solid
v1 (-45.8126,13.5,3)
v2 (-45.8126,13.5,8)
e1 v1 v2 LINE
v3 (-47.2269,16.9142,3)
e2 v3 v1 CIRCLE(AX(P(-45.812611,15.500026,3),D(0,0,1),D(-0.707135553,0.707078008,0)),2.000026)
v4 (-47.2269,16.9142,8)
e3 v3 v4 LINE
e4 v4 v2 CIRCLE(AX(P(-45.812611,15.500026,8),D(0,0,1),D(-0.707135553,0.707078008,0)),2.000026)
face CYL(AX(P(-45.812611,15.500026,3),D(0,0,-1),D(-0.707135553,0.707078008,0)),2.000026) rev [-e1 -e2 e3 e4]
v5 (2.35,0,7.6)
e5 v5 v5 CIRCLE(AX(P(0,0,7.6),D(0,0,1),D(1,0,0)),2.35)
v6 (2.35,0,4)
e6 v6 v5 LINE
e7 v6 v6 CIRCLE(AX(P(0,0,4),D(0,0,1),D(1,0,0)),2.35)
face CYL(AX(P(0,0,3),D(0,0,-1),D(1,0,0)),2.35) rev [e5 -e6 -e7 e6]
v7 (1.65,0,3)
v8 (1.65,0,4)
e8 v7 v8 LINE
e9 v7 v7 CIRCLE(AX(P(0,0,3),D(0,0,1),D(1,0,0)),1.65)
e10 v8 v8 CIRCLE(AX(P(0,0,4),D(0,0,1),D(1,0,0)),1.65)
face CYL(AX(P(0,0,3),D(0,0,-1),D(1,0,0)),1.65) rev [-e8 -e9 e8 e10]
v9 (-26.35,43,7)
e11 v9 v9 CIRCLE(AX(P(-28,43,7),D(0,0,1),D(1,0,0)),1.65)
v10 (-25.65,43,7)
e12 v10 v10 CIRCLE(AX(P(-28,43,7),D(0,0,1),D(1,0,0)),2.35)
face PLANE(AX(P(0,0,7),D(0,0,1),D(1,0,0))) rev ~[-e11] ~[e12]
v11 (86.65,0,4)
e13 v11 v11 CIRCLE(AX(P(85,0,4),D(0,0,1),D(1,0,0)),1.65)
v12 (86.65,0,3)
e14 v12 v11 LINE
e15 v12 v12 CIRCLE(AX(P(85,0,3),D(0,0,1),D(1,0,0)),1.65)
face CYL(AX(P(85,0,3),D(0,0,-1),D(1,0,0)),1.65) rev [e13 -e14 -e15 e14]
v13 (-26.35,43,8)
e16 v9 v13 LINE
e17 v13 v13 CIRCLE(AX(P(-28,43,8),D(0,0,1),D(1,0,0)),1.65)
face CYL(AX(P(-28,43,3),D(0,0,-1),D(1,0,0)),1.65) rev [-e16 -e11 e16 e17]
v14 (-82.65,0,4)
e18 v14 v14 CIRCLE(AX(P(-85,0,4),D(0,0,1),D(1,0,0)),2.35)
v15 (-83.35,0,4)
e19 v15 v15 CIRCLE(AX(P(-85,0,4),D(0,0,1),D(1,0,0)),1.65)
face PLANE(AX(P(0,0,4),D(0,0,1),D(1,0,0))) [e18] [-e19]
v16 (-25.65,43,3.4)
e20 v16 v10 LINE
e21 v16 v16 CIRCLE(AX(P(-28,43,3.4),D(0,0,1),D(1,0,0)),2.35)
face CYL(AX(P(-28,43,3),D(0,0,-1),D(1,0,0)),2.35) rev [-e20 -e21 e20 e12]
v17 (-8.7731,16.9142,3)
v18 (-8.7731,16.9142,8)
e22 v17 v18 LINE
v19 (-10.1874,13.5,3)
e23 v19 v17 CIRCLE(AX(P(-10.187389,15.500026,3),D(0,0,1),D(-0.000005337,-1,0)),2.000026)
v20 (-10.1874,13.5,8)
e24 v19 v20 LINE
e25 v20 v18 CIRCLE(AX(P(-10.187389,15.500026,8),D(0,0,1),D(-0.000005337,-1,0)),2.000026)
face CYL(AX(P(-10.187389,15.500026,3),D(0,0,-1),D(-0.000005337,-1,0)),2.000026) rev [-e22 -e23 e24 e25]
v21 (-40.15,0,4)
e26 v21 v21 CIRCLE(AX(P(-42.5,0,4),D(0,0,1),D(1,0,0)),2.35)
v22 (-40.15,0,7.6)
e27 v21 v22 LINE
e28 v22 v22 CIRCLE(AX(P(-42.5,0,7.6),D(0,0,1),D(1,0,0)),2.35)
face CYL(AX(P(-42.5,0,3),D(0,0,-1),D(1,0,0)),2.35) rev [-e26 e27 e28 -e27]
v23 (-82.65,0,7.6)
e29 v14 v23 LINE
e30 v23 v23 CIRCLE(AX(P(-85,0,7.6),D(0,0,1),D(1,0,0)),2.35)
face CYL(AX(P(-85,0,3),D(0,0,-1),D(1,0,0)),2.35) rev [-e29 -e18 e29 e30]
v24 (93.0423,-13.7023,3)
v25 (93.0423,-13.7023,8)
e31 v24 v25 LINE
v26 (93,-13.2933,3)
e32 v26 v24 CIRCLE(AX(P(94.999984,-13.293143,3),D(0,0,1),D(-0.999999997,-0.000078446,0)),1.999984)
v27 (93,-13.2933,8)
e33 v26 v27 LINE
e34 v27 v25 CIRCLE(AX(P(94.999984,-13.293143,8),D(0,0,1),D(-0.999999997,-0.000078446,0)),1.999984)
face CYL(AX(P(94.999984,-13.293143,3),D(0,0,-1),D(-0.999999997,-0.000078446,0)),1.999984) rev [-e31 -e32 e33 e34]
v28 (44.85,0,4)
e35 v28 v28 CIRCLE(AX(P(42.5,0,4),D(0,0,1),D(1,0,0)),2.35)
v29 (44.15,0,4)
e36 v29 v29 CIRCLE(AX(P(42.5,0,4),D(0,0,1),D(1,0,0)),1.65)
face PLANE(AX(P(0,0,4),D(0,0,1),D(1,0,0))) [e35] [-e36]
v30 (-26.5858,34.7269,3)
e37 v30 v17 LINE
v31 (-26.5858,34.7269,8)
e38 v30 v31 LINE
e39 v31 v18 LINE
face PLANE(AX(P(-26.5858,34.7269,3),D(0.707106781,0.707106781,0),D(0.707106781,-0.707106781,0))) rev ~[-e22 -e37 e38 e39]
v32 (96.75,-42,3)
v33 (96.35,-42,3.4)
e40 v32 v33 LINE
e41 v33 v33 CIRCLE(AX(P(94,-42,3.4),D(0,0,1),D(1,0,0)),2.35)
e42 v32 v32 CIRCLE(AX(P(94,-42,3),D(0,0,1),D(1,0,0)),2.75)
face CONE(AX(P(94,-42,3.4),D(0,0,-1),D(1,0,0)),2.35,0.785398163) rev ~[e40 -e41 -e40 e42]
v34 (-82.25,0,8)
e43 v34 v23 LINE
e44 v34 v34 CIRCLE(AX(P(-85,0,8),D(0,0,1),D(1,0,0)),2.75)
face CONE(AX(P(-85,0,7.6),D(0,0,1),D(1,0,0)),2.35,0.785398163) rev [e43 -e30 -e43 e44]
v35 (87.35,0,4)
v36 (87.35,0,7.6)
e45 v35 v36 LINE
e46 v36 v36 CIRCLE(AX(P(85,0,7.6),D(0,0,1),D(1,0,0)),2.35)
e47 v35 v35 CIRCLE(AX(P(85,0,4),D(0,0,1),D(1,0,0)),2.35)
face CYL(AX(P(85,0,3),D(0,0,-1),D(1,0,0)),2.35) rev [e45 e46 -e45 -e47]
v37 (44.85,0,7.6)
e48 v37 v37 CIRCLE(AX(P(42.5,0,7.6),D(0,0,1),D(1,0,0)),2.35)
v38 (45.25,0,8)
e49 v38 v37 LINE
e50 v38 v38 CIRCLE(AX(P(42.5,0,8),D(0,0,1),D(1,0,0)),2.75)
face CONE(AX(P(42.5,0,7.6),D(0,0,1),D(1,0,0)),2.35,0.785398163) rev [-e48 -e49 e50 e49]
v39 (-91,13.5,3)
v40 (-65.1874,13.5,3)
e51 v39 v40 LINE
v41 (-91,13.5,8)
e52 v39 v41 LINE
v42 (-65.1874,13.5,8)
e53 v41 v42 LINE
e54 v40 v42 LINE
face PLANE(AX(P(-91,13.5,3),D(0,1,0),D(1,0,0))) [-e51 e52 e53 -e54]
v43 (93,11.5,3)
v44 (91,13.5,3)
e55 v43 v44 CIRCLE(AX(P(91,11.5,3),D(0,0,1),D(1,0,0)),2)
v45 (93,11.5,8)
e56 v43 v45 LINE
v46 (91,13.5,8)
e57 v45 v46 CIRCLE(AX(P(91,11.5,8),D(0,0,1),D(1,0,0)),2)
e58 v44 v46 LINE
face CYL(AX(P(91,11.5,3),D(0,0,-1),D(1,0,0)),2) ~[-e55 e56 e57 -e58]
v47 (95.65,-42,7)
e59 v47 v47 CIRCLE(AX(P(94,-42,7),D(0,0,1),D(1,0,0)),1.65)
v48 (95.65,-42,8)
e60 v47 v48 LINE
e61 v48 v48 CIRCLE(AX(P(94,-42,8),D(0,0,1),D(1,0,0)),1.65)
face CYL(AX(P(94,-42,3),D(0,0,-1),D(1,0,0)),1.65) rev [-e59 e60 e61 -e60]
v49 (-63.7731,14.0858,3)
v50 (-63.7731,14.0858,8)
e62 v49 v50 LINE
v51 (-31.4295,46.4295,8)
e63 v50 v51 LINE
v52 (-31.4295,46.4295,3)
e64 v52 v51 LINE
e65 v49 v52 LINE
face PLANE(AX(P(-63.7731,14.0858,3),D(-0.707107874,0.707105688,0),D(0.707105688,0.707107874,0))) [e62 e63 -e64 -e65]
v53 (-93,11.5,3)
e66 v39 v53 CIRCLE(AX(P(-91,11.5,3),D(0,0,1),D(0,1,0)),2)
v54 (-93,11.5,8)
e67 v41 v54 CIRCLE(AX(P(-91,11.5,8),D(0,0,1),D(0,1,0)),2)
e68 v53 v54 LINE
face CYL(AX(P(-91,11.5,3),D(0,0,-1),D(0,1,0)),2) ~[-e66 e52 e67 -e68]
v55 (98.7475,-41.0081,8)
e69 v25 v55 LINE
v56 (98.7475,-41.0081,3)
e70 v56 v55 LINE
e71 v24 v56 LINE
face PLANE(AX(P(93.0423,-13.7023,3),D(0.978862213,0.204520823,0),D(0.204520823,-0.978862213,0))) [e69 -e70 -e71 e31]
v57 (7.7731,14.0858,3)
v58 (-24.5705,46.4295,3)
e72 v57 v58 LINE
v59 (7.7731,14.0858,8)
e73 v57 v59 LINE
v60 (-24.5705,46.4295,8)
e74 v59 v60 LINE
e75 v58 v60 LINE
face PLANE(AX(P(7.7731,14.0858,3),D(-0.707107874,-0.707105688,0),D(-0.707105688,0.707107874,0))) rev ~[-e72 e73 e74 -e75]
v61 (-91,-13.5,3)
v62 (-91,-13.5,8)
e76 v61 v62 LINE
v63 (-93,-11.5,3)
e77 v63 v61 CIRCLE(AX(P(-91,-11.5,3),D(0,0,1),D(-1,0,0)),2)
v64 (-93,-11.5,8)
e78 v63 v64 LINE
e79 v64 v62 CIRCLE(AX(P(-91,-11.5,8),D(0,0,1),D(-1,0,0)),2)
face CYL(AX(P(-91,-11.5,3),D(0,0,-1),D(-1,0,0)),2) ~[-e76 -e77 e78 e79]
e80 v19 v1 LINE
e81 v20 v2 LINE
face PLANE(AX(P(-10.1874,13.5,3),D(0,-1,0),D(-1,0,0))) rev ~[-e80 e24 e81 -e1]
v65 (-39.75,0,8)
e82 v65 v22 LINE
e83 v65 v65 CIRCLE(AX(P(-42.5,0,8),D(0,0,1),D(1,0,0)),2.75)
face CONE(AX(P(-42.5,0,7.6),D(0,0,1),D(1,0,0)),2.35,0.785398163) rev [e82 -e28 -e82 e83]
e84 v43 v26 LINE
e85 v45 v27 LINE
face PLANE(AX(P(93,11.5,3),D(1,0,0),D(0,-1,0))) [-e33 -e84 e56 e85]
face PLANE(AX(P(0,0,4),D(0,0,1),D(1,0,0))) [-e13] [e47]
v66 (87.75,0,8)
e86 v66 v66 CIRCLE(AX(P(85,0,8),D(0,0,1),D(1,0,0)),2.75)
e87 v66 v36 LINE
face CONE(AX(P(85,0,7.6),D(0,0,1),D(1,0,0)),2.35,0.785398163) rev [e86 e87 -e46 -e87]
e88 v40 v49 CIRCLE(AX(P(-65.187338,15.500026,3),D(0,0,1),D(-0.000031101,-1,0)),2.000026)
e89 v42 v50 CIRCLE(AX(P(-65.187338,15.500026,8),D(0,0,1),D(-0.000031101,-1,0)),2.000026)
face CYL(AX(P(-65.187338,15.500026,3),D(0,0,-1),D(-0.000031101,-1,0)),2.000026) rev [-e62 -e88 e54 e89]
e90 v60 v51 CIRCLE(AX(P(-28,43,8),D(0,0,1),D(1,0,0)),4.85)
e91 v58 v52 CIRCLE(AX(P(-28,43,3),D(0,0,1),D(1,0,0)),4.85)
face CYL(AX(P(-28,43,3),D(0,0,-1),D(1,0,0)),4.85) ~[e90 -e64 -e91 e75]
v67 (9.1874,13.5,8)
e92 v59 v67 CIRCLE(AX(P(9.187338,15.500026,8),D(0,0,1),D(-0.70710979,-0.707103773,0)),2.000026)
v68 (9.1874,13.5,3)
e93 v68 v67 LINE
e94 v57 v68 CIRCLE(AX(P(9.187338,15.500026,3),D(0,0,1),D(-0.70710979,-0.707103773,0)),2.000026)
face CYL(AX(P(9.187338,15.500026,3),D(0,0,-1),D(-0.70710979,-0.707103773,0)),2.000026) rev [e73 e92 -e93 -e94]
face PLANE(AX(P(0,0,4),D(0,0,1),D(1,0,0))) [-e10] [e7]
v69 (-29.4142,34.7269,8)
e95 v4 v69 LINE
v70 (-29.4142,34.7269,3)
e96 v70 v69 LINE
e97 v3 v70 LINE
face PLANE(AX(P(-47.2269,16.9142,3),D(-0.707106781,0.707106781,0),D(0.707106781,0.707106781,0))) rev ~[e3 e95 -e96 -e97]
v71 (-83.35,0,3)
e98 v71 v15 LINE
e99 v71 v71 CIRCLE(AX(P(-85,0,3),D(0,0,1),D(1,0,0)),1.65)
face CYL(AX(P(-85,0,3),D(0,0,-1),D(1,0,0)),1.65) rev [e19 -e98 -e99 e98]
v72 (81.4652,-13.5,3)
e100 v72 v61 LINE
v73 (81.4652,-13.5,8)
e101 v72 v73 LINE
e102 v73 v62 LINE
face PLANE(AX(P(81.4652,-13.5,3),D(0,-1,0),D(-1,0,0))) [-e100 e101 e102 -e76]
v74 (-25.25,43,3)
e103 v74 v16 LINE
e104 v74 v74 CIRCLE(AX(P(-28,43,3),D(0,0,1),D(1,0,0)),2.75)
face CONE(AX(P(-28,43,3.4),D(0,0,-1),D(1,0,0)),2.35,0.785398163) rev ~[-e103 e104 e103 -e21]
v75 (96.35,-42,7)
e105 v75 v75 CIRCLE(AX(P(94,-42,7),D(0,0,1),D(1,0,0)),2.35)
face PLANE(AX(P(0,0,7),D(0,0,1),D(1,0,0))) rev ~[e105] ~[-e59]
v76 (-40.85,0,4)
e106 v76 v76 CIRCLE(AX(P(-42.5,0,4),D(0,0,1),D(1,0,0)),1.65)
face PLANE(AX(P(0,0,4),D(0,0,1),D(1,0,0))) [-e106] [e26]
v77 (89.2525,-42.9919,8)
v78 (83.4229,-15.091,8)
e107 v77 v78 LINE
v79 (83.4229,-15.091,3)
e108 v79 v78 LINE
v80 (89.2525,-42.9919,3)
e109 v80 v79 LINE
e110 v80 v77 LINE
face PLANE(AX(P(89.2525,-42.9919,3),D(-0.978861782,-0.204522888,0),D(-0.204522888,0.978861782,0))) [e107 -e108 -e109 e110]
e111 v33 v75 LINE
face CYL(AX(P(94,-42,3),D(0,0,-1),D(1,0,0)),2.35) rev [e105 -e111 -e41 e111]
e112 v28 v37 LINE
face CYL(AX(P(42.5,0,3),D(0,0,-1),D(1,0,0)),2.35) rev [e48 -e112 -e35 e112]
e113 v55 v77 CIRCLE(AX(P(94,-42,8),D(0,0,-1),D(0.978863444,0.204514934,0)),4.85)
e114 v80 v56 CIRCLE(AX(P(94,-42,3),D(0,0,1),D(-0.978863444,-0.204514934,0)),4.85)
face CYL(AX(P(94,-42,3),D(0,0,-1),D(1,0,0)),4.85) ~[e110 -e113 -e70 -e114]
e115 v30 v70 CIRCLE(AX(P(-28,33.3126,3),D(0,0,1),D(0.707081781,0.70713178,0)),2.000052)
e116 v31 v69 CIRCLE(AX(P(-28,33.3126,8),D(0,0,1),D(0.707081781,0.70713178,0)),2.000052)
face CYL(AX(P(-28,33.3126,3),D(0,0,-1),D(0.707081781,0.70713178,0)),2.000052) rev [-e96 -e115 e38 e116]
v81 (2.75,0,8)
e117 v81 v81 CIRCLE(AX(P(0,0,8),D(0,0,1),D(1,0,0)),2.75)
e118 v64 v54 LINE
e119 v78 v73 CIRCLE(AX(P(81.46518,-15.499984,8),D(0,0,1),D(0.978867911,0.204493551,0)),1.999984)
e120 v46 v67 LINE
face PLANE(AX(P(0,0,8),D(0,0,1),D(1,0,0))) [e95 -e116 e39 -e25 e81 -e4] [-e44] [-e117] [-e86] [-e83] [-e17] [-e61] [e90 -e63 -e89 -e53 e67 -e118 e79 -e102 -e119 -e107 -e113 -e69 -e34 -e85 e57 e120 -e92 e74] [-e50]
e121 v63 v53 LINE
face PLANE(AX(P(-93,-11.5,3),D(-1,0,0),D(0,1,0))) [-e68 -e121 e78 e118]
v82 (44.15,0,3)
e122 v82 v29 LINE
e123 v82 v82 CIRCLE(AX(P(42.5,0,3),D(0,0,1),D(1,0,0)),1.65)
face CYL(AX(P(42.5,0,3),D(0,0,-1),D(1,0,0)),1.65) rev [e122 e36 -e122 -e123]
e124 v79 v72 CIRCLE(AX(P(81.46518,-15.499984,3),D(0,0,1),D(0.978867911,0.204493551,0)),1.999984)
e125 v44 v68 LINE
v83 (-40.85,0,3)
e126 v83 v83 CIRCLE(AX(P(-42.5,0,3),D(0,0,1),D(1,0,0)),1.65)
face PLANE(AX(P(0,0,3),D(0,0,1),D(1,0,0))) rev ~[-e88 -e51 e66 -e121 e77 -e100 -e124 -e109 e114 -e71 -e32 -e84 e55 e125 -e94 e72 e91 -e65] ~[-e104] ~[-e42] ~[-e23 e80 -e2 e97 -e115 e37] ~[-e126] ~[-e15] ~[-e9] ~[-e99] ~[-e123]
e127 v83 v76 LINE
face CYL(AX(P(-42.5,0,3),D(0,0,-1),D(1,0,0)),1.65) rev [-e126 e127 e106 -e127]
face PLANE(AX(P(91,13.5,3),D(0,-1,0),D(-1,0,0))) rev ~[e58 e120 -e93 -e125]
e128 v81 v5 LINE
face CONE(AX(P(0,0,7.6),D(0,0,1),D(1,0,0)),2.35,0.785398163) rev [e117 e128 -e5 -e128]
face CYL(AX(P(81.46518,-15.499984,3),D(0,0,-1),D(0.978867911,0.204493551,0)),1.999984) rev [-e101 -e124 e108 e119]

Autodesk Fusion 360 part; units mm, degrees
sketch "Sketch1" plane through (0, 0, 0) normal (0, 0, 1) x (1, 0, 0)
  line L0 (100, 125) -> (-100, 125)
  line L1 (-100, 125) -> (-100, -125)
  line L2 (-100, -125) -> (100, -125)
  line L3 (100, -125) -> (100, 125)
  line L4 (100, 125) -> (-100, -125) construction
  line L5 (-100, 125) -> (100, -125) construction
  line L6 (-100, 125) -> (100, 125)
  line L7 (100, 125) -> (100, 129)
  line L8 (100, 129) -> (-100, 129)
  line L9 (-100, 129) -> (-100, 125)
  line L10 (-100, -125) -> (100, -125)
  line L11 (100, -125) -> (100, -129)
  line L12 (100, -129) -> (-100, -129)
  line L13 (-100, -129) -> (-100, -125)
  line L14 (100, 125) -> (104, 125)
  line L15 (104, 125) -> (104, -125)
  line L16 (104, -125) -> (100, -125)
  line L17 (100, -125) -> (100, 125)
  line L18 (-100, 125) -> (-104, 125)
  line L19 (-104, 125) -> (-104, -125)
  line L20 (-104, -125) -> (-100, -125)
  line L21 (-100, -125) -> (-100, 125)
  line L22 (-80, -53.8) -> (-80, 2.2) construction
  circle A0 centre (-80, -53.8) radius 1.65 construction
  circle A1 centre (-80, 2.2) radius 1.65 construction
  line L23 (-61.0622, -1) -> (-98.9378, -1) construction
  line L24 (-98.9378, -1) -> (-98.9378, -50.6) construction
  line L25 (-98.9378, -50.6) -> (-61.0622, -50.6) construction
  line L26 (-61.0622, -50.6) -> (-61.0622, -1) construction
  line L27 (-61.0622, -1) -> (-98.9378, -50.6) construction
  line L28 (-98.9378, -1) -> (-61.0622, -50.6) construction
  line L29 (-30.5, 49.5) -> (98.5, 49.5) construction
  line L30 (98.5, 49.5) -> (98.5, -47.5) construction
  line L31 (98.5, -47.5) -> (-30.5, -47.5) construction
  line L32 (-30.5, -47.5) -> (-30.5, 49.5) construction
  circle A2 centre (-28, 43) radius 1.65
  circle A3 centre (94, -42) radius 1.65
  line L33 (-100, 125) -> (-85.5, 125)
  line L34 (-85.5, 125) -> (-85.5, 116)
  line L35 (-85.5, 116) -> (-100, 116)
  line L36 (-100, 116) -> (-100, 125)
  line L37 (100, 125) -> (85.5, 125)
  line L38 (85.5, 125) -> (85.5, 116)
  line L39 (85.5, 116) -> (100, 116)
  line L40 (100, 116) -> (100, 125)
  line L41 (-100, -125) -> (-85.5, -125)
  line L42 (-85.5, -125) -> (-85.5, -116)
  line L43 (-85.5, -116) -> (-100, -116)
  line L44 (-100, -116) -> (-100, -125)
  line L45 (100, -125) -> (85.5, -125)
  line L46 (85.5, -125) -> (85.5, -116)
  line L47 (85.5, -116) -> (100, -116)
  line L48 (100, -116) -> (100, -125)
  line L49 (-100, 100) -> (-104, 100)
  line L50 (100, 100) -> (104, 100)
  line L51 (-100, -100) -> (-104, -100)
  line L52 (100, -100) -> (104, -100)
  line L53 (-85.5, 125) -> (-85.5, 129)
  line L54 (85.5, 125) -> (85.5, 129)
  line L55 (-85.5, -125) -> (-85.5, -129)
  line L56 (85.5, -125) -> (85.5, -129)
  line L57 (-115, -140) -> (-75, -140) construction
  line L58 (-75, -140) -> (-75, -87) construction
  line L59 (-75, -87) -> (-115, -87) construction
  line L60 (-115, -87) -> (-115, -140) construction
  line L61 (-63.3606, -140) -> (-21.3606, -140) construction
  line L62 (-21.3606, -140) -> (-21.3606, -53.8) construction
  line L63 (-21.3606, -53.8) -> (-63.3606, -53.8) construction
  line L64 (-63.3606, -53.8) -> (-63.3606, -140) construction
  line L65 (-100, 0) -> (-118.2487, 0) construction
  circle A4 centre (0, 0) radius 152.5
  circle A5 centre (-85, -72) radius 1.65
  line L66 (-85, -72) -> (85, -72) construction
  line L67 (85, -72) -> (85, 72) construction
  line L68 (85, 72) -> (-85, 72) construction
  line L69 (-85, 72) -> (-85, -72) construction
  circle A6 centre (85, 72) radius 1.65
  circle A7 centre (85, -72) radius 1.65
  circle A8 centre (-85, 72) radius 1.65
  point P0 (-80, -25.8)
  dimension "d1" = 200
  dimension "d2" = 250
  dimension "d3" = 4
  dimension "d4" = 4
  dimension "d5" = 4
  dimension "d6" = 4
  dimension "d7" = 20
  dimension "d8" = 56
  dimension "d10" = 3.3
  dimension "d11" = 37.8755
  dimension "d12" = 49.6
  dimension "d13" = 2.5
  dimension "d14" = 6.5
  dimension "d15" = 3.3
  dimension "d16" = 5.5
  dimension "d17" = 4.5
  dimension "d18" = 129
  dimension "d19" = 97
  dimension "d20" = 1.5
  dimension "d21" = 14.5
  dimension "d22" = 9
  dimension "d23" = 14.5
  dimension "d24" = 9
  dimension "d25" = 14.5
  dimension "d26" = 14.5
  dimension "d27" = 9
  dimension "d28" = 9
  dimension "d29" = 25
  dimension "d30" = 25
  dimension "d31" = 25
  dimension "d32" = 25
  dimension "d33" = 40
  dimension "d34" = 53
  dimension "d35" = 15
  dimension "d36" = 15
  dimension "d37" = 3.3
  dimension "d38" = 86.2
  dimension "d39" = 42
  dimension "d40" = 1
  dimension "d50" = 305
  dimension "d51" = 3.3
  dimension "d52" = 15
  dimension "d53" = 15
  dimension "d54" = 15
  dimension "d55" = 53
  dimension "d56" = 53
  dimension "d57" = 170
  dimension "d58" = 144
  dimension "d60" = 47.5
  dimension "d61" = 49.5
extrude "Extrude1" add sketch "Sketch1" along normal blind 3 contours L0 L1 L2 L3 L6 L10 L17 L21 L34 L35 L38 L39 L42 L43 L46 L47 A4 | L0 L6 L8 L53 L54 A4 | L3 L15 L17 L50 L52 | L1 L19 L21 L49 L51 | L2 L10 L12 L55 L56 A4 makes body 1
sketch "Sketch2" plane through (0, 0, 3) normal (0, 0, 1) x (1, 0, 0)
  circle A0 centre (85, -72) radius 1.65
  circle A1 centre (-85, -72) radius 1.65
  circle A2 centre (85, 72) radius 1.65
  circle A3 centre (94, -42) radius 1.65
  circle A4 centre (-85, 72) radius 1.65
  circle A5 centre (-28, 43) radius 1.65
  line L0 (100, 100) -> (100, 115.1358)
  arc A6 (100, 115.1358) -> (98.9962, 116) centre (0, 0) ccw
  line L1 (98.9962, 116) -> (85.5, 116)
  line L2 (85.5, 116) -> (85.5, 126.2775)
  arc A7 (85.5, 126.2775) -> (81.3342, 129) centre (0, 0) ccw
  line L3 (81.3342, 129) -> (-81.3342, 129)
  arc A8 (-81.3342, 129) -> (-85.5, 126.2775) centre (0, 0) ccw
  line L4 (-85.5, 126.2775) -> (-85.5, 116)
  line L5 (-85.5, 116) -> (-98.9962, 116)
  arc A9 (-98.9962, 116) -> (-100, 115.1358) centre (0, 0) ccw
  line L6 (-100, 115.1358) -> (-100, 100)
  line L7 (-100, 100) -> (-104, 100)
  line L8 (-104, 100) -> (-104, -100)
  line L9 (-104, -100) -> (-100, -100)
  line L10 (-100, -100) -> (-100, -115.1358)
  arc A10 (-100, -115.1358) -> (-98.9962, -116) centre (0, 0) ccw
  line L11 (-98.9962, -116) -> (-85.5, -116)
  line L12 (-85.5, -116) -> (-85.5, -126.2775)
  arc A11 (-85.5, -126.2775) -> (-81.3342, -129) centre (0, 0) ccw
  line L13 (-81.3342, -129) -> (81.3342, -129)
  arc A12 (81.3342, -129) -> (85.5, -126.2775) centre (0, 0) ccw
  line L14 (85.5, -126.2775) -> (85.5, -116)
  line L15 (85.5, -116) -> (98.9962, -116)
  arc A13 (98.9962, -116) -> (100, -115.1358) centre (0, 0) ccw
  line L16 (100, -115.1358) -> (100, -100)
  line L17 (100, -100) -> (104, -100)
  line L18 (104, -100) -> (104, 100)
  line L19 (104, 100) -> (100, 100)
  line L20 (-10, 129) -> (10, 129)
  line L21 (10, 129) -> (10, 111)
  line L22 (8, 109) -> (-8, 109)
  line L23 (-10, 111) -> (-10, 129)
  arc A14 (-10, 111) -> (-8, 109) centre (-8, 111) ccw
  arc A15 (8, 109) -> (10, 111) centre (8, 111) ccw
  point P0 (10, 109)
  point P1 (-10, 109)
  dimension "d62" = 20
  dimension "d63" = 20
  dimension "d64" = 2
extrude "Extrude2" cut sketch "Sketch2" against normal blind 3 contours L3 L20 L21 L22 L23 A14 A15 bodies 1
fillet "Fillet4" radius 2 2 edges at (-10, 129, 1.5) (10, 129, 1.5) on bodies 1
sketch "Sketch3" plane through (0, 0, 3) normal (0, 0, 1) x (1, 0, 0)
  arc A0 (12, 129) -> (10, 127) centre (12, 127) ccw
  line L0 (10, 127) -> (10, 111)
  arc A1 (8, 109) -> (10, 111) centre (8, 111) ccw
  line L1 (8, 109) -> (-8, 109)
  arc A2 (-10, 111) -> (-8, 109) centre (-8, 111) ccw
  line L2 (-10, 111) -> (-10, 127)
  arc A3 (-10, 127) -> (-12, 129) centre (-12, 127) ccw
  line L3 (-12, 129) -> (-81.3342, 129)
  arc A4 (-81.3342, 129) -> (-85.5, 126.2775) centre (0, 0) ccw
  line L4 (-85.5, 126.2775) -> (-85.5, 116)
  line L5 (-85.5, 116) -> (-98.9962, 116)
  arc A5 (-98.9962, 116) -> (-100, 115.1358) centre (0, 0) ccw
  line L6 (-100, 115.1358) -> (-100, 100)
  line L7 (-100, 100) -> (-104, 100)
  line L8 (-104, 100) -> (-104, -100)
  line L9 (-104, -100) -> (-100, -100)
  line L10 (-100, -100) -> (-100, -115.1358)
  arc A6 (-100, -115.1358) -> (-98.9962, -116) centre (0, 0) ccw
  line L11 (-98.9962, -116) -> (-85.5, -116)
  line L12 (-85.5, -116) -> (-85.5, -126.2775)
  arc A7 (-85.5, -126.2775) -> (-81.3342, -129) centre (0, 0) ccw
  line L13 (-81.3342, -129) -> (81.3342, -129)
  arc A8 (81.3342, -129) -> (85.5, -126.2775) centre (0, 0) ccw
  line L14 (85.5, -126.2775) -> (85.5, -116)
  line L15 (85.5, -116) -> (98.9962, -116)
  arc A9 (98.9962, -116) -> (100, -115.1358) centre (0, 0) ccw
  line L16 (100, -115.1358) -> (100, -100)
  line L17 (100, -100) -> (104, -100)
  line L18 (104, -100) -> (104, 100)
  line L19 (104, 100) -> (100, 100)
  line L20 (100, 100) -> (100, 115.1358)
  arc A10 (100, 115.1358) -> (98.9962, 116) centre (0, 0) ccw
  line L21 (98.9962, 116) -> (85.5, 116)
  line L22 (85.5, 116) -> (85.5, 126.2775)
  arc A11 (85.5, 126.2775) -> (81.3342, 129) centre (0, 0) ccw
  line L23 (81.3342, 129) -> (12, 129)
  circle A12 centre (85, -72) radius 1.65
  circle A13 centre (-85, -72) radius 1.65
  circle A14 centre (85, 72) radius 1.65
  circle A15 centre (94, -42) radius 1.65
  circle A16 centre (-85, 72) radius 1.65
  circle A17 centre (-28, 43) radius 1.65
  circle A18 centre (0, 59) radius 6
  dimension "d69" = 12
  dimension "d70" = 50
  dimension "d71" = 104
extrude "Extrude3" cut sketch "Sketch3" against normal blind 3 contours A18 bodies 1
sketch "Sketch4" plane through (0, 0, 3) normal (0, 0, 1) x (1, 0, 0)
  circle A0 centre (0, 59) radius 6
  arc A1 (12, 129) -> (10, 127) centre (12, 127) ccw
  line L0 (10, 127) -> (10, 111)
  arc A2 (8, 109) -> (10, 111) centre (8, 111) ccw
  line L1 (8, 109) -> (-8, 109)
  arc A3 (-10, 111) -> (-8, 109) centre (-8, 111) ccw
  line L2 (-10, 111) -> (-10, 127)
  arc A4 (-10, 127) -> (-12, 129) centre (-12, 127) ccw
  line L3 (-12, 129) -> (-81.3342, 129)
  arc A5 (-81.3342, 129) -> (-85.5, 126.2775) centre (0, 0) ccw
  line L4 (-85.5, 126.2775) -> (-85.5, 116)
  line L5 (-85.5, 116) -> (-98.9962, 116)
  arc A6 (-98.9962, 116) -> (-100, 115.1358) centre (0, 0) ccw
  line L6 (-100, 115.1358) -> (-100, 100)
  line L7 (-100, 100) -> (-104, 100)
  line L8 (-104, 100) -> (-104, -100)
  line L9 (-104, -100) -> (-100, -100)
  line L10 (-100, -100) -> (-100, -115.1358)
  arc A7 (-100, -115.1358) -> (-98.9962, -116) centre (0, 0) ccw
  line L11 (-98.9962, -116) -> (-85.5, -116)
  line L12 (-85.5, -116) -> (-85.5, -126.2775)
  arc A8 (-85.5, -126.2775) -> (-81.3342, -129) centre (0, 0) ccw
  line L13 (-81.3342, -129) -> (81.3342, -129)
  arc A9 (81.3342, -129) -> (85.5, -126.2775) centre (0, 0) ccw
  line L14 (85.5, -126.2775) -> (85.5, -116)
  line L15 (85.5, -116) -> (98.9962, -116)
  arc A10 (98.9962, -116) -> (100, -115.1358) centre (0, 0) ccw
  line L16 (100, -115.1358) -> (100, -100)
  line L17 (100, -100) -> (104, -100)
  line L18 (104, -100) -> (104, 100)
  line L19 (104, 100) -> (100, 100)
  line L20 (100, 100) -> (100, 115.1358)
  arc A11 (100, 115.1358) -> (98.9962, 116) centre (0, 0) ccw
  line L21 (98.9962, 116) -> (85.5, 116)
  line L22 (85.5, 116) -> (85.5, 126.2775)
  arc A12 (85.5, 126.2775) -> (81.3342, 129) centre (0, 0) ccw
  line L23 (81.3342, 129) -> (12, 129)
  circle A13 centre (85, -72) radius 1.65
  circle A14 centre (-85, -72) radius 1.65
  circle A15 centre (85, 72) radius 1.65
  circle A16 centre (94, -42) radius 1.65
  circle A17 centre (-85, 72) radius 1.65
  circle A18 centre (-28, 43) radius 1.65
sketch "Sketch5" plane through (0, 0, 3) normal (0, 0, 1) x (1, 0, 0)
  circle A0 centre (0, 59) radius 6
  arc A1 (12, 129) -> (10, 127) centre (12, 127) ccw
  line L0 (10, 127) -> (10, 111)
  arc A2 (8, 109) -> (10, 111) centre (8, 111) ccw
  line L1 (8, 109) -> (-8, 109)
  arc A3 (-10, 111) -> (-8, 109) centre (-8, 111) ccw
  line L2 (-10, 111) -> (-10, 127)
  arc A4 (-10, 127) -> (-12, 129) centre (-12, 127) ccw
  line L3 (-12, 129) -> (-81.3342, 129)
  arc A5 (-81.3342, 129) -> (-85.5, 126.2775) centre (0, 0) ccw
  line L4 (-85.5, 126.2775) -> (-85.5, 116)
  line L5 (-85.5, 116) -> (-98.9962, 116)
  arc A6 (-98.9962, 116) -> (-100, 115.1358) centre (0, 0) ccw
  line L6 (-100, 115.1358) -> (-100, 100)
  line L7 (-100, 100) -> (-104, 100)
  line L8 (-104, 100) -> (-104, -100)
  line L9 (-104, -100) -> (-100, -100)
  line L10 (-100, -100) -> (-100, -115.1358)
  arc A7 (-100, -115.1358) -> (-98.9962, -116) centre (0, 0) ccw
  line L11 (-98.9962, -116) -> (-85.5, -116)
  line L12 (-85.5, -116) -> (-85.5, -126.2775)
  arc A8 (-85.5, -126.2775) -> (-81.3342, -129) centre (0, 0) ccw
  line L13 (-81.3342, -129) -> (81.3342, -129)
  arc A9 (81.3342, -129) -> (85.5, -126.2775) centre (0, 0) ccw
  line L14 (85.5, -126.2775) -> (85.5, -116)
  line L15 (85.5, -116) -> (98.9962, -116)
  arc A10 (98.9962, -116) -> (100, -115.1358) centre (0, 0) ccw
  line L16 (100, -115.1358) -> (100, -100)
  line L17 (100, -100) -> (104, -100)
  line L18 (104, -100) -> (104, 100)
  line L19 (104, 100) -> (100, 100)
  line L20 (100, 100) -> (100, 115.1358)
  arc A11 (100, 115.1358) -> (98.9962, 116) centre (0, 0) ccw
  line L21 (98.9962, 116) -> (85.5, 116)
  line L22 (85.5, 116) -> (85.5, 126.2775)
  arc A12 (85.5, 126.2775) -> (81.3342, 129) centre (0, 0) ccw
  line L23 (81.3342, 129) -> (12, 129)
  circle A13 centre (85, -72) radius 1.65
  circle A14 centre (-85, -72) radius 1.65
  circle A15 centre (85, 72) radius 1.65
  circle A16 centre (94, -42) radius 1.65
  circle A17 centre (-85, 72) radius 1.65
  circle A18 centre (-28, 43) radius 1.65
  circle A19 centre (94, -42) radius 2.35
  circle A20 centre (-28, 43) radius 1.65
  circle A21 centre (-28, 43) radius 2.35
  circle A22 centre (94, -42) radius 1.65
  circle A23 centre (94, -42) radius 4.85
  circle A24 centre (-28, 43) radius 4.85
  circle A25 centre (0, 0) radius 1.65
  circle A26 centre (0, 0) radius 2.35
  circle A27 centre (-85, 0) radius 2.35
  circle A28 centre (-85, 0) radius 1.65
  circle A29 centre (-42.5, 0) radius 2.35
  circle A30 centre (-42.5, 0) radius 1.65
  circle A31 centre (42.5, 0) radius 2.35
  circle A32 centre (42.5, 0) radius 1.65
  circle A33 centre (85, 0) radius 2.35
  circle A34 centre (85, 0) radius 1.65
  line L24 (81.4652, -13.5) -> (-91, -13.5)
  line L25 (-93, -11.5) -> (-93, 11.5)
  line L26 (-91, 13.5) -> (-65.1874, 13.5)
  line L27 (93, 11.5) -> (93, -13.2933)
  line L28 (93.0423, -13.7023) -> (98.7475, -41.0081)
  line L29 (89.2525, -42.9919) -> (83.4229, -15.091)
  line L30 (7.7731, 14.0858) -> (-24.5705, 46.4295)
  line L31 (8.3589, 13.5) -> (-10.1874, 13.5) construction
  line L32 (-26.5858, 34.7269) -> (-8.7731, 16.9142)
  line L33 (-63.7731, 14.0858) -> (-31.4295, 46.4295)
  line L34 (-64.3589, 13.5) -> (-45.8126, 13.5) construction
  line L35 (-47.2269, 16.9142) -> (-29.4142, 34.7269)
  arc A35 (83.4229, -15.091) -> (81.4652, -13.5) centre (81.4652, -15.5) ccw
  arc A36 (93, -13.2933) -> (93.0423, -13.7023) centre (95, -13.2933) ccw
  arc A37 (93, 11.5) -> (91, 13.5) centre (91, 11.5) ccw
  arc A38 (-93, -11.5) -> (-91, -13.5) centre (-91, -11.5) ccw
  arc A39 (-91, 13.5) -> (-93, 11.5) centre (-91, 11.5) ccw
  arc A40 (-65.1874, 13.5) -> (-63.7731, 14.0858) centre (-65.1874, 15.5) ccw
  arc A41 (-47.2269, 16.9142) -> (-45.8126, 13.5) centre (-45.8126, 15.5) ccw
  arc A42 (-26.5858, 34.7269) -> (-29.4142, 34.7269) centre (-28, 33.3126) ccw
  arc A43 (-10.1874, 13.5) -> (-8.7731, 16.9142) centre (-10.1874, 15.5) ccw
  line L36 (91, 13.5) -> (9.1874, 13.5)
  arc A44 (7.7731, 14.0858) -> (9.1874, 13.5) centre (9.1874, 15.5) ccw
  line L37 (-10.1874, 13.5) -> (-45.8126, 13.5)
  line L38 (-45.8126, 13.5) -> (-10.1874, 13.5) construction
  point P0 (-85, 0)
  point P1 (-85, 0)
  point P2 (-42.5, 0)
  point P3 (-42.5, 0)
  point P4 (42.5, 0)
  point P5 (42.5, 0)
  point P6 (85, 0)
  point P7 (85, 0)
  dimension "d74" = 4.7
  dimension "d75" = 3.3
  dimension "d76" = 4.7
  dimension "d80" = 3.3
  dimension "d81" = 9.7
  dimension "d82" = 9.7
  dimension "d83" = 3.3
  dimension "d84" = 4.7
  dimension "d87" = 85
  dimension "d88" = 85
  dimension "d89" = 8
  dimension "d90" = 8
  dimension "d91" = 13.5
  dimension "d92" = 13.5
  dimension "d93" = 45
  dimension "d94" = 45
  dimension "d95" = 2
  dimension "d96" = 2
  dimension "d98" = 2
  dimension "d99" = 2
  dimension "d100" = 2
  dimension "d101" = 2
  dimension "d102" = 2
  dimension "d103" = 2
  dimension "d104" = 2
extrude "Extrude4" add sketch "Sketch5" along normal blind 5 separate body contours A23 | A23 A24 L24 L25 L26 L27 L28 L29 L30 L33 A35 A36 A37 A38 A39 A40 L36 A44 | A24 makes body 2
extrude "Extrude5" add sketch "Sketch5" along normal blind 5 contours A19 | A21 bodies 2
extrude "Extrude6" cut sketch "Sketch5" along normal blind 4 contours A19 | A21 bodies 2
chamfer "Chamfer2" distance 0.4 angle 45 2 edges at (91.809, -42.8498, 3) (-30.191, 42.1502, 3) on bodies 2
extrude "Extrude7" add sketch "Sketch5" along normal blind 1 contours A26 | A27 | A29 | A31 | A33 bodies 2
chamfer "Chamfer3" distance 0.4 angle 45 5 edges at (82.809, 0.8498, 8) (40.309, 0.8498, 8) (-2.191, 0.8498, 8) (-44.691, 0.8498, 8) (-87.191, 0.8498, 8) on bodies 2
hidden bodies 1
equation "d4 = d3"
equation "d5 = d3"
equation "d6 = d3"
equation "d23 = d21"
equation "d24 = d22"
equation "d25 = d21"
equation "d26 = d25"
equation "d27 = d22"
equation "d28 = d24"
equation "d30 = d29"
equation "d31 = d29"
equation "d32 = d29"
equation "d36 = d35"
equation "d60 = d19 / 2 - 1 mm"
equation "d74 = outer_heat"
equation "d75 = inner_heat"
equation "d76 = outer_heat"
equation "inner_heat = 3.3 mm"
equation "outer_heat = 4.7 mm"
equation "cir_offset = 5 mm"
equation "d80 = inner_heat"
equation "d81 = outer_heat + cir_offset"
equation "d82 = outer_heat + cir_offset"
equation "d83 = inner_heat"
equation "d84 = outer_heat"
equation "d91 = ( 27 / 2 ) * 1 mm"
equation "d92 = ( 27 / 2 ) * 1 mm"
equation "d95 = fillet"
equation "d96 = fillet"
equation "fillet = 2 mm"
equation "d98 = fillet"
equation "d99 = fillet"
equation "d100 = fillet"
equation "d101 = fillet"
equation "d102 = fillet"
equation "d103 = fillet"
equation "d104 = fillet"
